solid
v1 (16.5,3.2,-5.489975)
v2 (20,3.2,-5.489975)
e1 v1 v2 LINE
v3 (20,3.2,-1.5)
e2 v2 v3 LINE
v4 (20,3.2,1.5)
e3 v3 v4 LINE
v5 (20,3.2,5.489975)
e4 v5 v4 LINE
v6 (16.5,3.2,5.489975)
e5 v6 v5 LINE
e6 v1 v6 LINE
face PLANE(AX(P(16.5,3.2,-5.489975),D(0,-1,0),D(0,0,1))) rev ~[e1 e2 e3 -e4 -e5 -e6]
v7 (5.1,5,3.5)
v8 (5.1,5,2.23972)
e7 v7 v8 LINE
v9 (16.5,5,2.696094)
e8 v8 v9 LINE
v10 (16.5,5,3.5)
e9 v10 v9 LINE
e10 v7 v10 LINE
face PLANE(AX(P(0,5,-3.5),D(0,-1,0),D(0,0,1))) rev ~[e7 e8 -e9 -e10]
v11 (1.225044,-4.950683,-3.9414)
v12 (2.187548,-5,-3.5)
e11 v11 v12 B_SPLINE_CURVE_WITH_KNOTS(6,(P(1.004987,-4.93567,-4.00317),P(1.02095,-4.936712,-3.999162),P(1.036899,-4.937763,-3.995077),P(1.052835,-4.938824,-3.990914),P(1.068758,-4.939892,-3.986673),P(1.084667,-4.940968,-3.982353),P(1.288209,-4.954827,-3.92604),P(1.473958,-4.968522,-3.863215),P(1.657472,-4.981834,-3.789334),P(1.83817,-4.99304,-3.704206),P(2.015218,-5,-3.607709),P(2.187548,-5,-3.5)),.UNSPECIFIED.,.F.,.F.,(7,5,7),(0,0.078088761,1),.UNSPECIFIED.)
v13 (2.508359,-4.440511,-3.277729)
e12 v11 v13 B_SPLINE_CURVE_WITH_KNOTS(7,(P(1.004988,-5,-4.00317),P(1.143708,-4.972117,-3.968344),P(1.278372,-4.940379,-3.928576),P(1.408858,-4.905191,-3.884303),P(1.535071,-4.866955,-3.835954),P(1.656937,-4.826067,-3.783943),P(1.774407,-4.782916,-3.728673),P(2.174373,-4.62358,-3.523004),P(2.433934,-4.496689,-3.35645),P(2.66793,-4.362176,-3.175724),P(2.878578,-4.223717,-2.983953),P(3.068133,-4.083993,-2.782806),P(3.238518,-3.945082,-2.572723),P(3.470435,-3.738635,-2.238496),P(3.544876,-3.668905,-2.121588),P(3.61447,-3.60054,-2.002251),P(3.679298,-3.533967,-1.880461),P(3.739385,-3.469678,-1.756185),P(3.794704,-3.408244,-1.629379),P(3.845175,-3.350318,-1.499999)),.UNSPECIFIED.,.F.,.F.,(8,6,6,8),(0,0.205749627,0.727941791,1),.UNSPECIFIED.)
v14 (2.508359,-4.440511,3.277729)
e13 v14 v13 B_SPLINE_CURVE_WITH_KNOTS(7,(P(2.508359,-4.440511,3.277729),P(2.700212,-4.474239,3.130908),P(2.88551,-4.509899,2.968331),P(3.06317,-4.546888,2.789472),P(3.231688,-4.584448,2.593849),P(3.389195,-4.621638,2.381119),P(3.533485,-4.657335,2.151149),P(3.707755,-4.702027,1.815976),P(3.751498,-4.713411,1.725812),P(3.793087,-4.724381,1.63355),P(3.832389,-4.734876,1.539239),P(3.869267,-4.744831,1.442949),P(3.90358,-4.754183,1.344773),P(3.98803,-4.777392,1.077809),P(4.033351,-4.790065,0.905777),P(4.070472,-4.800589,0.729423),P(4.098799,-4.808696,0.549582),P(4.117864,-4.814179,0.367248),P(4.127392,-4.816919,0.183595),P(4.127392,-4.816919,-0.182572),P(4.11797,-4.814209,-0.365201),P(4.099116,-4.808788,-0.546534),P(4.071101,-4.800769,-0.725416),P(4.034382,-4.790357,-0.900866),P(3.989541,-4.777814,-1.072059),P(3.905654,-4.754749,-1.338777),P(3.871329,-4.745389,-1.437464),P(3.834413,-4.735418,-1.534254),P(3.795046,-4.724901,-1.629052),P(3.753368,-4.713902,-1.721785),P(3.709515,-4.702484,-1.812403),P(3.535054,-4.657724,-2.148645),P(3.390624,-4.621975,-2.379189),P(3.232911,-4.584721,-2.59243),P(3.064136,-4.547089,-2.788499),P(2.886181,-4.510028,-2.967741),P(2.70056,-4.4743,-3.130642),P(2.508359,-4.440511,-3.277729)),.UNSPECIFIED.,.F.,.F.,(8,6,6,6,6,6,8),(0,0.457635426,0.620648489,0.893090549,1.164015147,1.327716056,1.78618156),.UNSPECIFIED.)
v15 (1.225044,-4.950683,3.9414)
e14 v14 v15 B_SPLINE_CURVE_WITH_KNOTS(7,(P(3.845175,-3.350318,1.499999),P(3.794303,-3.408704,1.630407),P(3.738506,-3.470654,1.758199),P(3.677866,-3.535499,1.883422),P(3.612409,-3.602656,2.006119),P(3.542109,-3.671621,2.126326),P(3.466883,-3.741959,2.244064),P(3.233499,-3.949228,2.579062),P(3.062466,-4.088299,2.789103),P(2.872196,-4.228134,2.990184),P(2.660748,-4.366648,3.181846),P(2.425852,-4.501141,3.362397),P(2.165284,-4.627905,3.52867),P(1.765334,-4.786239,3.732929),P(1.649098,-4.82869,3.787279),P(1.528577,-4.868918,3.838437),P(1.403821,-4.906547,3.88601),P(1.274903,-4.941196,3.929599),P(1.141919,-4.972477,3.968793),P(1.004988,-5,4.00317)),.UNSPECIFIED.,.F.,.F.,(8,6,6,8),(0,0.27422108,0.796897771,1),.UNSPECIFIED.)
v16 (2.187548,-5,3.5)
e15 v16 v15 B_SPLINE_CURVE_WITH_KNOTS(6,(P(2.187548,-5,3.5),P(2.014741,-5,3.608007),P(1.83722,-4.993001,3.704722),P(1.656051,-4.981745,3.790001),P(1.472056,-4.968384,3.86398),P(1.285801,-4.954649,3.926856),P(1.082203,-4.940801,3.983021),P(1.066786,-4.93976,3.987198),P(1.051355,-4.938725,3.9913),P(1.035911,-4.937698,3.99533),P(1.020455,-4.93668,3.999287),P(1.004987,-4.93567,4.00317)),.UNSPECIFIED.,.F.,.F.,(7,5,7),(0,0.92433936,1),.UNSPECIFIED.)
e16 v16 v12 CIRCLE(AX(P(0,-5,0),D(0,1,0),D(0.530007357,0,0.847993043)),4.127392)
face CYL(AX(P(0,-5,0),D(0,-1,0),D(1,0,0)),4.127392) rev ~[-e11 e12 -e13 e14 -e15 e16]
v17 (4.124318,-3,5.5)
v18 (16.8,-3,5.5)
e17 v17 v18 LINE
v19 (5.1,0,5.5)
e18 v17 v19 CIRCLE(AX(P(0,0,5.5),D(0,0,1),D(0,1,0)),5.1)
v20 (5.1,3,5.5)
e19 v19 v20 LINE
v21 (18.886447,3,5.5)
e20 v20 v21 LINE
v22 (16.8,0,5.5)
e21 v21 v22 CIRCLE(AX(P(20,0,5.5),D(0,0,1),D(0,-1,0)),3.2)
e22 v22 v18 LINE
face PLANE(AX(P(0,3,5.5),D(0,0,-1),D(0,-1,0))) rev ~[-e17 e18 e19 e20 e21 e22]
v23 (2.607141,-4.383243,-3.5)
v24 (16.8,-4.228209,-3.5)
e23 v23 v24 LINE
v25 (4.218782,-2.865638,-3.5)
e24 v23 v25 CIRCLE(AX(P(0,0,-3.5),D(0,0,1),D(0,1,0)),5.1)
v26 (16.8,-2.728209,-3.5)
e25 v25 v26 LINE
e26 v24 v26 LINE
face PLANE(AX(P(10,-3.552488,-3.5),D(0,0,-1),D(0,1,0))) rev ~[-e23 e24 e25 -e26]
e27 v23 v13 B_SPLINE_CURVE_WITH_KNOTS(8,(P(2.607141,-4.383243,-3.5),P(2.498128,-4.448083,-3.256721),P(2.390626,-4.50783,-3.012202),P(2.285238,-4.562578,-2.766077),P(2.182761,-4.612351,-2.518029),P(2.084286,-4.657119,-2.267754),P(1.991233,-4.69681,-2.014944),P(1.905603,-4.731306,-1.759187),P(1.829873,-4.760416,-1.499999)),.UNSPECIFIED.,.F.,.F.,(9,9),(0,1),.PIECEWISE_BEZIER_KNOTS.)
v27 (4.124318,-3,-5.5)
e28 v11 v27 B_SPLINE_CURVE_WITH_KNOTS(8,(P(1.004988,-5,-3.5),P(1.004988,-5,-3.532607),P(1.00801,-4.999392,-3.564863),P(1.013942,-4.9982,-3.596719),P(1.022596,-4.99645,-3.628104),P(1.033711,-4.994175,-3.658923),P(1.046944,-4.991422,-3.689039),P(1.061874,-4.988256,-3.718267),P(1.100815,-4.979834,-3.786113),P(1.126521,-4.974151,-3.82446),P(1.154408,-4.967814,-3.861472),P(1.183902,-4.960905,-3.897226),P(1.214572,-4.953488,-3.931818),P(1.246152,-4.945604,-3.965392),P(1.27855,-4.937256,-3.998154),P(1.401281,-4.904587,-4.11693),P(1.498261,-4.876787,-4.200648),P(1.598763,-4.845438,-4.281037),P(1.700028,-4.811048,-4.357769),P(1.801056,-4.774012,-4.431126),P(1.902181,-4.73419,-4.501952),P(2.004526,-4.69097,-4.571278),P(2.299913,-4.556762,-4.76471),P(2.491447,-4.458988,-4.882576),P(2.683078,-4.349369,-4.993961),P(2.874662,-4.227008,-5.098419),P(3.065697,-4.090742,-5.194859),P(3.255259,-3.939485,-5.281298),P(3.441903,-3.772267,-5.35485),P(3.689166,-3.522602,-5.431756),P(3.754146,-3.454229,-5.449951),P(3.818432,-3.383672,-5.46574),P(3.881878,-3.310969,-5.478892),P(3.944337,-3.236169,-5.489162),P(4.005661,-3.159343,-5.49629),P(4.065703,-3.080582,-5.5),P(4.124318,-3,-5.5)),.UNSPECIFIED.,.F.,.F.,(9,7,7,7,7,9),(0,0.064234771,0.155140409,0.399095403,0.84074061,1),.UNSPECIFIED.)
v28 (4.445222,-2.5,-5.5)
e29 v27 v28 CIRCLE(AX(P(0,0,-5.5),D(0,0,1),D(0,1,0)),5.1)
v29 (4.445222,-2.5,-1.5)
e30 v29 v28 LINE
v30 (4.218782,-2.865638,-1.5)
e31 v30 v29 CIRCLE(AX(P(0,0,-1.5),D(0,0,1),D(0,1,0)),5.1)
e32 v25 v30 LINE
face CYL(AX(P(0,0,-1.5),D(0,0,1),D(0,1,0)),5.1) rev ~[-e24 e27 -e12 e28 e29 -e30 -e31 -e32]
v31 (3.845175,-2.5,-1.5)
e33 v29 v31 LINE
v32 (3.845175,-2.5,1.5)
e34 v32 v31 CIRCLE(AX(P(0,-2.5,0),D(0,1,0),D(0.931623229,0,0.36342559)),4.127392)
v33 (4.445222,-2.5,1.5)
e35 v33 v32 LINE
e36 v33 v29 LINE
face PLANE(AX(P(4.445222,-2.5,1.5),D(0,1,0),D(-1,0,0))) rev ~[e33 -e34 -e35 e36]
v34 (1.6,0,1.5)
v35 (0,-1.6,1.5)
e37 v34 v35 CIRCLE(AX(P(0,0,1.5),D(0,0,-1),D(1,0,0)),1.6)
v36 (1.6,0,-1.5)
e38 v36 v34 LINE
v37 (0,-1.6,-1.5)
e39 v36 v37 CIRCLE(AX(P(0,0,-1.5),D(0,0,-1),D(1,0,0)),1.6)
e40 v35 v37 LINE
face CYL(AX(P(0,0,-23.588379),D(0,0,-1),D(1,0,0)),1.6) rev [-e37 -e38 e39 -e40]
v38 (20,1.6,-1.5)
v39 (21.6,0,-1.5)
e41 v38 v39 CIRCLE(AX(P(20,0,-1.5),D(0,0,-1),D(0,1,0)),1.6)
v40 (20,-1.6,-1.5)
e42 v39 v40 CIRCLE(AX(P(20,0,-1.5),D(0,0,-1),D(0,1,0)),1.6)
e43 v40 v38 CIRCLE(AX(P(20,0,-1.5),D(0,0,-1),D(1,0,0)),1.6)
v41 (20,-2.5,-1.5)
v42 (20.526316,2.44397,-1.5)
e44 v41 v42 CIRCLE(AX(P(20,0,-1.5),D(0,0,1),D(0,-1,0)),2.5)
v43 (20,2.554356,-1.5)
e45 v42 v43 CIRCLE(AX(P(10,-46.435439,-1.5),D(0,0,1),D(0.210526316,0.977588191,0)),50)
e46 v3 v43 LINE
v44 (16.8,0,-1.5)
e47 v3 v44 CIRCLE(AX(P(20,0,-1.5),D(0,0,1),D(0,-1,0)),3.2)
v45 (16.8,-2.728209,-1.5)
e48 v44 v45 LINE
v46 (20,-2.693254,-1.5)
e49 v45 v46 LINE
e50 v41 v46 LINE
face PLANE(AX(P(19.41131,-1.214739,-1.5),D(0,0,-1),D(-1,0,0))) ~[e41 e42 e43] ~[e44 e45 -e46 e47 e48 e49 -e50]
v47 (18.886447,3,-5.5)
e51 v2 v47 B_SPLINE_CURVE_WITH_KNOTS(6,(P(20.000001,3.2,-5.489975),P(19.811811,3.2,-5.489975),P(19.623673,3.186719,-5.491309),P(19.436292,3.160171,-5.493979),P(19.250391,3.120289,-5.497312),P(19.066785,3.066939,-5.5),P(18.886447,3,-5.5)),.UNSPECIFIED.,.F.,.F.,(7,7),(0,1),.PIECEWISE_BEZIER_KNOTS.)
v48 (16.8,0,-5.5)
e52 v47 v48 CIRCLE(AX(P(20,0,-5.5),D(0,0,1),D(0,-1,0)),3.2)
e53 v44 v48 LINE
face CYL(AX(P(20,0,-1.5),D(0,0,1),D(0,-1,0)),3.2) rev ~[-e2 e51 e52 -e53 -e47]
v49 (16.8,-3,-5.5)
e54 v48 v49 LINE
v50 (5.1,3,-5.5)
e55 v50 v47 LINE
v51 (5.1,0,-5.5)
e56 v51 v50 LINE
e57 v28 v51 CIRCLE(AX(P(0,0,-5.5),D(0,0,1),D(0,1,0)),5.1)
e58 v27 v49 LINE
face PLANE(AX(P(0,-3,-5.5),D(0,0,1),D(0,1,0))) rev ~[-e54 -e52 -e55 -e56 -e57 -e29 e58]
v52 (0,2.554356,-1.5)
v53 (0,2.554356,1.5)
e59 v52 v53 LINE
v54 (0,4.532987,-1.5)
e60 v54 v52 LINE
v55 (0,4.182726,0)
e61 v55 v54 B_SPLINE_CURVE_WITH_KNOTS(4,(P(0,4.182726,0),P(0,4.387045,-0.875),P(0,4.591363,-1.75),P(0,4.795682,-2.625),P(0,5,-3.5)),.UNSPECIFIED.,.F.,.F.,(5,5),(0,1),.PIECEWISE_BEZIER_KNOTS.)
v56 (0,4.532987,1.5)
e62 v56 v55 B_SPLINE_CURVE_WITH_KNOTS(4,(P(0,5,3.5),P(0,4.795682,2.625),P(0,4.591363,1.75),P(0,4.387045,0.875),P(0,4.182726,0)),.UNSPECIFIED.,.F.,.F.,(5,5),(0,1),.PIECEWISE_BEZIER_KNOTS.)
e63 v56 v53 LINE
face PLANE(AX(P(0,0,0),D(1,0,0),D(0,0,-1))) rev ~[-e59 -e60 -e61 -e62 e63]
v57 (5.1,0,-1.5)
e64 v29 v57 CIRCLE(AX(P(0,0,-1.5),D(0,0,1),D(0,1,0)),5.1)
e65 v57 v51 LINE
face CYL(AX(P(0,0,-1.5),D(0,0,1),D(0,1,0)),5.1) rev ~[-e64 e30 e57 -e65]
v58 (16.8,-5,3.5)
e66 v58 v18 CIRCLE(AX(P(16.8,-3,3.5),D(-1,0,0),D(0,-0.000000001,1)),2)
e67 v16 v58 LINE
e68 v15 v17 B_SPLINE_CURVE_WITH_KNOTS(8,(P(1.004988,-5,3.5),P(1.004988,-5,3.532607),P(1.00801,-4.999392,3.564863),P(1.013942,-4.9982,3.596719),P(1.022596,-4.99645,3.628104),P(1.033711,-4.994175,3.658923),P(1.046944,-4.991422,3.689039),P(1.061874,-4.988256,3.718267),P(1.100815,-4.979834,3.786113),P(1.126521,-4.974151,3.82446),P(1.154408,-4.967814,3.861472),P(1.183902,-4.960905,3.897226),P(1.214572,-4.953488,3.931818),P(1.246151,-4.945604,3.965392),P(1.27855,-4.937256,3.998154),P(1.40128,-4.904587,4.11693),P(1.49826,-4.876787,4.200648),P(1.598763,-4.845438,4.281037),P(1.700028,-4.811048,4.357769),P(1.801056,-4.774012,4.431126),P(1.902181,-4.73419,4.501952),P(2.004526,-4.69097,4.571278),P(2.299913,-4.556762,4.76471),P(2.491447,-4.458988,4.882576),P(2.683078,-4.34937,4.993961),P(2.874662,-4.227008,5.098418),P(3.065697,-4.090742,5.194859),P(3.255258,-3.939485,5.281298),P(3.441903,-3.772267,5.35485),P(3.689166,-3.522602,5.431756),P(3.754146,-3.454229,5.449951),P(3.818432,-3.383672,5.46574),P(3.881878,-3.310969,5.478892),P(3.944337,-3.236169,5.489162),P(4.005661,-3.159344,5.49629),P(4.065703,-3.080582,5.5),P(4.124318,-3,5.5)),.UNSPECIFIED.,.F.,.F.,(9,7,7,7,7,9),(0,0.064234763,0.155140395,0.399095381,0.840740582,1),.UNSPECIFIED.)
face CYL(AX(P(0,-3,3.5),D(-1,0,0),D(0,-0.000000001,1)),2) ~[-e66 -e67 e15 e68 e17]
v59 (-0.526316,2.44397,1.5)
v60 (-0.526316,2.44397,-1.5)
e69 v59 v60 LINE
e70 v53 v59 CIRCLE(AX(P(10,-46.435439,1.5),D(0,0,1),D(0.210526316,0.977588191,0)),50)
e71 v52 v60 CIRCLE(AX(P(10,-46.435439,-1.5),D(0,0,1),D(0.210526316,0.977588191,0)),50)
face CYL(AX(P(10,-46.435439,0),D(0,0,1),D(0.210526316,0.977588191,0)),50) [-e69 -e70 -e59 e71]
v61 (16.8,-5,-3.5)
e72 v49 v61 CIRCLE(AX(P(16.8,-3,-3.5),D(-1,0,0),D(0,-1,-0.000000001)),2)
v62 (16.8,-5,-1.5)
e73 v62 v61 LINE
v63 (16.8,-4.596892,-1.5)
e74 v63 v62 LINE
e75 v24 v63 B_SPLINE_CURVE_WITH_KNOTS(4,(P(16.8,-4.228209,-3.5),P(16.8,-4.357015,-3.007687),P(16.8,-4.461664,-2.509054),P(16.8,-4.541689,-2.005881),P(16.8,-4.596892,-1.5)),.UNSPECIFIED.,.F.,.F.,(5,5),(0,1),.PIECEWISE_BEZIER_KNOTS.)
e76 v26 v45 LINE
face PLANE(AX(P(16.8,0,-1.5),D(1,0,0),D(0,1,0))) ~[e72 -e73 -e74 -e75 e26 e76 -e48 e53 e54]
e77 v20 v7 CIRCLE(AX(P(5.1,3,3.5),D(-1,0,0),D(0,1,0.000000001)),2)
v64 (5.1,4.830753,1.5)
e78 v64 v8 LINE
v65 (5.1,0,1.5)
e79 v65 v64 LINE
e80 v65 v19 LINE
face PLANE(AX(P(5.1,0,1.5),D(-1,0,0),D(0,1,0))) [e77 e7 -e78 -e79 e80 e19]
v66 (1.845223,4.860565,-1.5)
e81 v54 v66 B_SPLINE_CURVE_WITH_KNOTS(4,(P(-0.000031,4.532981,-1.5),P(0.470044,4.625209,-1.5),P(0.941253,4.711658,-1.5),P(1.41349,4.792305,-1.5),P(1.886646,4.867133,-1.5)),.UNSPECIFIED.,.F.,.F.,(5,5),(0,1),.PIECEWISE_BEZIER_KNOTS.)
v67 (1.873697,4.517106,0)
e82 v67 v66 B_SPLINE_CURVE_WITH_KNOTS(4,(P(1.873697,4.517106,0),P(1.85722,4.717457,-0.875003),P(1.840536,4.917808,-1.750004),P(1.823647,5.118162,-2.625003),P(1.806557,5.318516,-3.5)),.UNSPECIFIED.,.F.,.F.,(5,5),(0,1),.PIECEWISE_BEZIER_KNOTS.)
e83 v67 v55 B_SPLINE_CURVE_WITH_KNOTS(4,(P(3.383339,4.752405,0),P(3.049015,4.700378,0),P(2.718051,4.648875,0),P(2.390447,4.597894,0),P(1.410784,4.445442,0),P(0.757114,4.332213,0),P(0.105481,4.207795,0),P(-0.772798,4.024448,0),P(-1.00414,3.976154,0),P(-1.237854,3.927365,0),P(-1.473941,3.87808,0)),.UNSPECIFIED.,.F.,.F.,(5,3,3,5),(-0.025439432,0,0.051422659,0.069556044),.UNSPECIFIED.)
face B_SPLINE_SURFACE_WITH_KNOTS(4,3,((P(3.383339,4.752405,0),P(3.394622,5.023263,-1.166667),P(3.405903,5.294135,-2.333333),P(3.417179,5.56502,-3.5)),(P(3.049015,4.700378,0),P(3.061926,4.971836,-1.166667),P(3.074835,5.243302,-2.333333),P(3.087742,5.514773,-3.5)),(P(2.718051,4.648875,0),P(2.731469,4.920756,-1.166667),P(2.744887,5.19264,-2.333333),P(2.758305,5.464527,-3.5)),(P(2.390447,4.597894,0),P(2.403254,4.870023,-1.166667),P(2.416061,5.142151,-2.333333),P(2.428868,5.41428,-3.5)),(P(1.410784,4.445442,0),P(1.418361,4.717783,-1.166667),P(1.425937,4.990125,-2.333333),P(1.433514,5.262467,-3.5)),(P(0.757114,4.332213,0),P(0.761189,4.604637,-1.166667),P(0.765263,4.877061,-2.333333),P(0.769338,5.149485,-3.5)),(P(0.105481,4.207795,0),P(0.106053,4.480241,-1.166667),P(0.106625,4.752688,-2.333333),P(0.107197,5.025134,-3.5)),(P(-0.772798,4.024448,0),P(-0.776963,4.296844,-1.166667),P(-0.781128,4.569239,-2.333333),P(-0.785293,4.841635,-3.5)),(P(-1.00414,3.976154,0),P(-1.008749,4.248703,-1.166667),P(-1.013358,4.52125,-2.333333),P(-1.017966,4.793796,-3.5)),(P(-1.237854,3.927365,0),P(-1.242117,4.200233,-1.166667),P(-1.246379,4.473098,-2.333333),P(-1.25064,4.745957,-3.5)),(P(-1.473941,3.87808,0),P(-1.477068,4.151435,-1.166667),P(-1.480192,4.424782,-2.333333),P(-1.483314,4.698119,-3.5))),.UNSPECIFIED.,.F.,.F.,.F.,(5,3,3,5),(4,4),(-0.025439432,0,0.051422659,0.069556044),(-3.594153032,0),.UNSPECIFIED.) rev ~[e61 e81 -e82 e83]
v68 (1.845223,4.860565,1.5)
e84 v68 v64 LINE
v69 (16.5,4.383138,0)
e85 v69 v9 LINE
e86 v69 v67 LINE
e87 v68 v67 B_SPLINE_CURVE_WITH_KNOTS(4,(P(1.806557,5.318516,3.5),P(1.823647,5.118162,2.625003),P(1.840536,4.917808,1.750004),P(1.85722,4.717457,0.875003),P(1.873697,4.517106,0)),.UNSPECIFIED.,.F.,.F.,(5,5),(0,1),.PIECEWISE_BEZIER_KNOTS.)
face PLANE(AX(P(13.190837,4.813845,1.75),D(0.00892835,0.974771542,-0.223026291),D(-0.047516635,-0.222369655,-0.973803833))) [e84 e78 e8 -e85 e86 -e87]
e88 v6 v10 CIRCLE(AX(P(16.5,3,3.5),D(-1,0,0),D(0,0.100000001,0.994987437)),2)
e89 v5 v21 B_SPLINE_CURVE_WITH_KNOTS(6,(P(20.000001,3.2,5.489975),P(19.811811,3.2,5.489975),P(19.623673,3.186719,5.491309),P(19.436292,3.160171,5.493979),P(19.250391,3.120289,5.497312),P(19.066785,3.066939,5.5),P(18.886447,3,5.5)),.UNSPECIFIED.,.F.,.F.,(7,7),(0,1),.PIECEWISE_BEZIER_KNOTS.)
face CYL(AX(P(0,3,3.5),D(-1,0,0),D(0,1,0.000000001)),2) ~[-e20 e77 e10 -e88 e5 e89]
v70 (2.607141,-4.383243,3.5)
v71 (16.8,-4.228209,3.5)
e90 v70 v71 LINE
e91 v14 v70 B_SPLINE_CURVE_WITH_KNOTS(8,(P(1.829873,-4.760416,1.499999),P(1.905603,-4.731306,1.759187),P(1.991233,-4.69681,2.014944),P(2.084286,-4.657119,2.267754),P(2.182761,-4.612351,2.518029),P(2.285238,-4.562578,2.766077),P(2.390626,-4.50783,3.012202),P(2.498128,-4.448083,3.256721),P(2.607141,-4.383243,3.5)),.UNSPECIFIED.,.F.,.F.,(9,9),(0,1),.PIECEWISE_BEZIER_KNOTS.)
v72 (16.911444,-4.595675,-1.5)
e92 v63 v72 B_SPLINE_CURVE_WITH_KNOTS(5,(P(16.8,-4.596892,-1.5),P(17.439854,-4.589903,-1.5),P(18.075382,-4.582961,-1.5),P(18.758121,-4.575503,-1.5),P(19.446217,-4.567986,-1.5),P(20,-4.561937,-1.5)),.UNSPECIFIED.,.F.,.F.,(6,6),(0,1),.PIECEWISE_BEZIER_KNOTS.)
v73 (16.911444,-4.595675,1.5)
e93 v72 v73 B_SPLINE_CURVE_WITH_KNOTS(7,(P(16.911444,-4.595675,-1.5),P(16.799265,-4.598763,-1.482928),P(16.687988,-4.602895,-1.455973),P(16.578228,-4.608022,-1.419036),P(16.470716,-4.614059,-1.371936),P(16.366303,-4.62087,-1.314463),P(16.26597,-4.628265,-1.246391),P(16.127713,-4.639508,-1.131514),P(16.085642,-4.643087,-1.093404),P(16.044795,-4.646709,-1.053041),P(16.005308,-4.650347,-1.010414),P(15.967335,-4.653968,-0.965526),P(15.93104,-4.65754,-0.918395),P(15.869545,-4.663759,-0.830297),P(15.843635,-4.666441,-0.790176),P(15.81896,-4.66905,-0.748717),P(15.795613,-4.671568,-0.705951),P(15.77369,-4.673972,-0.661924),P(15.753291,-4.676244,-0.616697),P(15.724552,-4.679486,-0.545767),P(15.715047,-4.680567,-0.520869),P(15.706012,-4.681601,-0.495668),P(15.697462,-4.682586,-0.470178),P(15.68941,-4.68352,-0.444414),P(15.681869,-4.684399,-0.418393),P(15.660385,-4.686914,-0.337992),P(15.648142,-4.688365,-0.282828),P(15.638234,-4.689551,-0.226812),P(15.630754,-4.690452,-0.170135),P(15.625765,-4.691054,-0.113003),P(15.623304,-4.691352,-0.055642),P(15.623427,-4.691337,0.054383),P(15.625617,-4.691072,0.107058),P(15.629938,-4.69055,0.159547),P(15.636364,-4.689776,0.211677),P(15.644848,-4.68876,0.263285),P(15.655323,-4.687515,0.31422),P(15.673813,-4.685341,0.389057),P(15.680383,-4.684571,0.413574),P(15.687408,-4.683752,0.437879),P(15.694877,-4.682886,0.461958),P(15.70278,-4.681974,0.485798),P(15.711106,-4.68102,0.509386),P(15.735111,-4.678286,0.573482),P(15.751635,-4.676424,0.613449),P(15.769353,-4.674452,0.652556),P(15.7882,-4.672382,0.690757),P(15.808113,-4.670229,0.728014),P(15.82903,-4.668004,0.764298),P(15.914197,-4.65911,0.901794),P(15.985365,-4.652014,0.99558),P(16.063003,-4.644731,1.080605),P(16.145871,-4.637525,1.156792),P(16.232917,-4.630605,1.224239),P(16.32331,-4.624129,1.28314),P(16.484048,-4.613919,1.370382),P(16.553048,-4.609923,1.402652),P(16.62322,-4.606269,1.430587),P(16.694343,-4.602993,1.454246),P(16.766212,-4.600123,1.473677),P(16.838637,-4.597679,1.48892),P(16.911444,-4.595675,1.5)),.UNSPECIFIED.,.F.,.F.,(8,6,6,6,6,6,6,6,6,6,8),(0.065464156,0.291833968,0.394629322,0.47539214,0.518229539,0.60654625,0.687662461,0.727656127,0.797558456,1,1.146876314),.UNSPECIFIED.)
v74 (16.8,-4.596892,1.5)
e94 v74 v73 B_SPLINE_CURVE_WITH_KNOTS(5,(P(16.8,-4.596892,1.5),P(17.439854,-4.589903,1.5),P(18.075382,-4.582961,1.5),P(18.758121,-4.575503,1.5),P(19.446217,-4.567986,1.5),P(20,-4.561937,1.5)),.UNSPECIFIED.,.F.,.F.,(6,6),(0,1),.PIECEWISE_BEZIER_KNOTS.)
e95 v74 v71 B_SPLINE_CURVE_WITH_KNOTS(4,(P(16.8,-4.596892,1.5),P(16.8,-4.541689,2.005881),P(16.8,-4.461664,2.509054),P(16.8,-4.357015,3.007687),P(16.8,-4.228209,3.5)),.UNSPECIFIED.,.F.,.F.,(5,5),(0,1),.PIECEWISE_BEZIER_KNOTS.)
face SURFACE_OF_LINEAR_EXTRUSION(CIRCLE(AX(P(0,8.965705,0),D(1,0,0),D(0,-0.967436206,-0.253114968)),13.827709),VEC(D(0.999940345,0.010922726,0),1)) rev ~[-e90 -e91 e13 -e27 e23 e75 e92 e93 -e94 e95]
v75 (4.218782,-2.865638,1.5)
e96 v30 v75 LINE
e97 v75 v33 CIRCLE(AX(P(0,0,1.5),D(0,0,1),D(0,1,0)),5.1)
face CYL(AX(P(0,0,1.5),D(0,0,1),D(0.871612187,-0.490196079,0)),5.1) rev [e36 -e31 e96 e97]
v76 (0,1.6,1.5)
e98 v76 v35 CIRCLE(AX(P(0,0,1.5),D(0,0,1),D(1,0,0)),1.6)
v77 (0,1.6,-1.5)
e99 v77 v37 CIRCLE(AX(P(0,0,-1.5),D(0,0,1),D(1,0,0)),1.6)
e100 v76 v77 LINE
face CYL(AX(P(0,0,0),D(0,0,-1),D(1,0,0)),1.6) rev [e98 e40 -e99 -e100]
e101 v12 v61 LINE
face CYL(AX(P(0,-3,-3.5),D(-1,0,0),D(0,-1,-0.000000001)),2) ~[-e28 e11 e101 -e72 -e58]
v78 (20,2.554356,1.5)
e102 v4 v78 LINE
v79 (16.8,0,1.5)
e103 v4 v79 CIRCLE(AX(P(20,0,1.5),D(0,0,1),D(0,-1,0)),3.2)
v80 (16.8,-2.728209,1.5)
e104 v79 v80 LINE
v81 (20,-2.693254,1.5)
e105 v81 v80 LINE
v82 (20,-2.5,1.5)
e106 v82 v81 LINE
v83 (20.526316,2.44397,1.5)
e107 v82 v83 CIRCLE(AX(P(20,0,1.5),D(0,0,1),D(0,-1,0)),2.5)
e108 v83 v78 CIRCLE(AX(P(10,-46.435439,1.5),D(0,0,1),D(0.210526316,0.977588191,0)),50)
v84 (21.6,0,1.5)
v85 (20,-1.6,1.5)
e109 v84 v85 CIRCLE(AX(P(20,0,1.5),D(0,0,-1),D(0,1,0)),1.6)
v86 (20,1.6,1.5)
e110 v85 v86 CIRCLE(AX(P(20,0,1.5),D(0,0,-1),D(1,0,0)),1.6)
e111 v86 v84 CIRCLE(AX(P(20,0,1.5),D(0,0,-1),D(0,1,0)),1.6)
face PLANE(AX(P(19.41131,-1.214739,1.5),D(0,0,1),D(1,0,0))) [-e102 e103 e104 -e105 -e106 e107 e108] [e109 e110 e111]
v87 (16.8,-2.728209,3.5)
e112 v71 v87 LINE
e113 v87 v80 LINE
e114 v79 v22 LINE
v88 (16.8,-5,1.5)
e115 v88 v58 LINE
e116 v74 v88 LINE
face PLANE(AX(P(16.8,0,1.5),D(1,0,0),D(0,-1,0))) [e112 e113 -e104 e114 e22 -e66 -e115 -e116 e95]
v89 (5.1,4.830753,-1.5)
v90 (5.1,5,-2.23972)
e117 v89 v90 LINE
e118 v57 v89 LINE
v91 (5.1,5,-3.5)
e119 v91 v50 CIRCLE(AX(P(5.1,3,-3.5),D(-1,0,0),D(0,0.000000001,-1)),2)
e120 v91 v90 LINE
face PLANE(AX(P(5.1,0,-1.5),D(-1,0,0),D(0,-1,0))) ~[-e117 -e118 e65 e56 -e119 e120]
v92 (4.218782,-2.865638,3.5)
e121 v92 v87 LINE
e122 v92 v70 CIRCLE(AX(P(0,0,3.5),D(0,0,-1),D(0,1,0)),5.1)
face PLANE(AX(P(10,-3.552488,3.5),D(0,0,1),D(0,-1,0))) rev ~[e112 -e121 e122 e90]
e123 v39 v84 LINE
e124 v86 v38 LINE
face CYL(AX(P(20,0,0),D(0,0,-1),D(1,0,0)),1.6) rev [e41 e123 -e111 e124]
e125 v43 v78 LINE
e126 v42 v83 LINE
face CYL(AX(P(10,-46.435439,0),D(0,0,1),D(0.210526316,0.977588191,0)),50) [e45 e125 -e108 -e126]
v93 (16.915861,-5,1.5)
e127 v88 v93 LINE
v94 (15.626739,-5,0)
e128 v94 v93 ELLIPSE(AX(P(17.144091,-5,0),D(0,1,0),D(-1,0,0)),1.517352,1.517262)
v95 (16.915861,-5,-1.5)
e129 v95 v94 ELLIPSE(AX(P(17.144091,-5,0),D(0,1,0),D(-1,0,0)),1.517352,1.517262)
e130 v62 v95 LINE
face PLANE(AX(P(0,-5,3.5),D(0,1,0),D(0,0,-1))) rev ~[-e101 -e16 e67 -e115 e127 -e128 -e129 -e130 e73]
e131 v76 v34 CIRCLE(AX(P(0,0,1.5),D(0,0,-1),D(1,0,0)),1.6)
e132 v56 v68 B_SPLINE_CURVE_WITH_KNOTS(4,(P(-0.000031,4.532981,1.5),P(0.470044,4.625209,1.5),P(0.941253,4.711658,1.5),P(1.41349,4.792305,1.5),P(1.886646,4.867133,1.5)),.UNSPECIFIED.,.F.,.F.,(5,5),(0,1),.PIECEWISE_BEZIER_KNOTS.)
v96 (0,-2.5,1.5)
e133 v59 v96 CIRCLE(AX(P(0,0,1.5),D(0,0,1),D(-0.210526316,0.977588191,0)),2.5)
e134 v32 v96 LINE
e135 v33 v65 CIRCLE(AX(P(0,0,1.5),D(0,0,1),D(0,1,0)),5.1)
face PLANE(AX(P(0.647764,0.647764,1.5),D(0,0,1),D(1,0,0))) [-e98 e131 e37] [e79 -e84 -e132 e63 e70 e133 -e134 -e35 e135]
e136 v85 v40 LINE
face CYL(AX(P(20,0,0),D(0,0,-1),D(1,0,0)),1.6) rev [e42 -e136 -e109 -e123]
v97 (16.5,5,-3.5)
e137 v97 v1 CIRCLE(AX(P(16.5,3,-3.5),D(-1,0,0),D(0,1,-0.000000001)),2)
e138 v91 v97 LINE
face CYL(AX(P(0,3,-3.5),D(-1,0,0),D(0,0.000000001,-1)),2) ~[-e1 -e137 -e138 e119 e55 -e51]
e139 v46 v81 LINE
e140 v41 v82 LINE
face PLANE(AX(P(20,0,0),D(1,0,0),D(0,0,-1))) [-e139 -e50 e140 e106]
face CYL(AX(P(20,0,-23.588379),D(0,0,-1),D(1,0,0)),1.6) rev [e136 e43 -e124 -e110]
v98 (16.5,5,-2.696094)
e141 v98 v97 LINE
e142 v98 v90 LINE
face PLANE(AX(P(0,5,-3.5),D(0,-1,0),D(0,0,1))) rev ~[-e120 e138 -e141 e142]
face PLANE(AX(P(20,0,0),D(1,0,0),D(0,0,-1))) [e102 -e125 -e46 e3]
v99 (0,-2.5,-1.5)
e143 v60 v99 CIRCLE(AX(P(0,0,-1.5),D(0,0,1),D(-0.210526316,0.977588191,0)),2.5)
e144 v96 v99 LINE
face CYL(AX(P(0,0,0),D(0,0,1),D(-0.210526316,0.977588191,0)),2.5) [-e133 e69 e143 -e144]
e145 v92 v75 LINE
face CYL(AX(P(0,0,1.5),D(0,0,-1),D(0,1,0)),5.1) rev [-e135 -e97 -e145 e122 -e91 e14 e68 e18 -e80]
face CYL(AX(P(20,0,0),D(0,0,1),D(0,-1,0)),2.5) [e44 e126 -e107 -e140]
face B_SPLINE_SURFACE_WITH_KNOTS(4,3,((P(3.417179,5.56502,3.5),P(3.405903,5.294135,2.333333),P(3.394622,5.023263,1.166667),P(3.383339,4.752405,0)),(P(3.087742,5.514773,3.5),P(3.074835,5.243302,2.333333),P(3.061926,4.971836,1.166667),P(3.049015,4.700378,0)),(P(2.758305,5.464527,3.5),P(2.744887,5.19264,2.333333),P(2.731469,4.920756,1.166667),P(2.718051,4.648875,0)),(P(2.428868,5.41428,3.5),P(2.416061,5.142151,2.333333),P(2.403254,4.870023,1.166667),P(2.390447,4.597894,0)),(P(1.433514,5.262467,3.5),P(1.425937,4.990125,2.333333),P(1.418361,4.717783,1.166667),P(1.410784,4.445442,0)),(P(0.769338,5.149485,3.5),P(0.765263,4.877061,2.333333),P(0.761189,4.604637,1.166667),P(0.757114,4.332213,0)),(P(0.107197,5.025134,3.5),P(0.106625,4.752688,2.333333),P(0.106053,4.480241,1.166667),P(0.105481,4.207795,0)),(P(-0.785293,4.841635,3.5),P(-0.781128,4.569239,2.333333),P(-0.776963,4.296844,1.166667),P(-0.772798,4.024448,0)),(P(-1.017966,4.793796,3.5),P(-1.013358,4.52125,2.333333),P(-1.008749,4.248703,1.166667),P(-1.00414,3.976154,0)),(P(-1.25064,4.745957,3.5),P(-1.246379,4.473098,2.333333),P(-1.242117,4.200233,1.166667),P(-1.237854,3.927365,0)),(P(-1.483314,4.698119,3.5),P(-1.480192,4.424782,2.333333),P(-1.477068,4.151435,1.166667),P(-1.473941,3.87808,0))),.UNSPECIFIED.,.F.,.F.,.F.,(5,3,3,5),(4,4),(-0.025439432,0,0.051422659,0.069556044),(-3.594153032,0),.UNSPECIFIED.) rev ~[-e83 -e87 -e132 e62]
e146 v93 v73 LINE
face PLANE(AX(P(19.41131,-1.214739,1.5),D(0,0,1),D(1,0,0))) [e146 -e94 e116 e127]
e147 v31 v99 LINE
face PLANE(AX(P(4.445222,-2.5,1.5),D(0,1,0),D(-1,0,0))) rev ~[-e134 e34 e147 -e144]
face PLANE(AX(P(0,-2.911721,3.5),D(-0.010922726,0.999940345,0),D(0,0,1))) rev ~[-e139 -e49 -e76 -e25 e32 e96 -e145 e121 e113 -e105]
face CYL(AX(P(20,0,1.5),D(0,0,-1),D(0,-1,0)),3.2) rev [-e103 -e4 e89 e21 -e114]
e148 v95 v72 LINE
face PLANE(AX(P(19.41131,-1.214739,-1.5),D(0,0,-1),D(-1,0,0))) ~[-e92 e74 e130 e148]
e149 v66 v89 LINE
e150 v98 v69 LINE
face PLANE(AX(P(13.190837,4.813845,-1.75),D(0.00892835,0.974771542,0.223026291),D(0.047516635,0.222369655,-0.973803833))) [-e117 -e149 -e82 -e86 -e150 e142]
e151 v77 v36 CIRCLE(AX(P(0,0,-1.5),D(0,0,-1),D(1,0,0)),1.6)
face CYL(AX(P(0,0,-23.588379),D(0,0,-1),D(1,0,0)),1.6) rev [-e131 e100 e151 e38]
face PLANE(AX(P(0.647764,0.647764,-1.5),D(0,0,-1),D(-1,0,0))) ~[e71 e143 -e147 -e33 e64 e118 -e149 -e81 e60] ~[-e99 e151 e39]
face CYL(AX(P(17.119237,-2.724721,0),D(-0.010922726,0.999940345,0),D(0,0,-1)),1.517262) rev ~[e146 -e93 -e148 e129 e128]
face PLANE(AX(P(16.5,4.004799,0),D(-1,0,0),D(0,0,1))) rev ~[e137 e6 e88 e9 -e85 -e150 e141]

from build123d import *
from build123d.topology import SkipClean

# Parameters (mm, degrees)
SKETCH1_R               = 1.6
BOSS_EXTRUDE1_DEPTH     = 1.5
SKETCH2_W               = 18
SKETCH2_H               = 5
BOSS_EXTRUDE3_DEPTH     = 20
CUT_EXTRUDE3_DEPTH      = 4
CUT_EXTRUDE1_DEPTH      = 4
CUT_EXTRUDE4_DEPTH      = 6
CUT_EXTRUDE5_DEPTH      = 25.088378991
CUT_EXTRUDE5_DEPTH_BACK = 25.088378991
SKETCH11_R              = 1.6
CUT_EXTRUDE6_DEPTH      = 10
SKETCH13_R              = 4.127392351
CUT_EXTRUDE7_DEPTH      = 2.5
CUT_EXTRUDE8_START      = -3.5
CUT_EXTRUDE8_DEPTH      = 3.5


with BuildPart() as part:
    # Sketch1 → Boss-Extrude1 (new, symmetric)
    with BuildSketch(Plane.XY):
        with BuildLine():
            Line((0, -2.5), (20, -2.5))
            ThreePointArc((20, -2.5), (22.485953156, -0.264644865), (20.526315789, 2.443970476))
            ThreePointArc((20.526315789, 2.443970476), (10, 3.564560947), (-0.526315789, 2.443970476))
            ThreePointArc((-0.526315789, 2.443970476), (-2.485953156, -0.264644865), (0, -2.5))
        make_face()
        Circle(SKETCH1_R, mode=Mode.SUBTRACT)
        with Locations((20, 0)):
            Circle(SKETCH1_R, mode=Mode.SUBTRACT)
    extrude(amount=BOSS_EXTRUDE1_DEPTH, both=True)

    # Sketch2 → Revolve1 (revolve)
    with BuildSketch(Plane(origin=(0, 0, 0), x_dir=(1, 0, 0), z_dir=(0, 1, 0))):
        with Locations((11, -2.5)):
            Rectangle(SKETCH2_W, SKETCH2_H)
    revolve(axis=Axis((2, 0, 0), (1, 0, 0)))

    # Sketch9 → Boss-Extrude3 (add)
    with BuildSketch(Plane(origin=(0, 0, 0), x_dir=(0, 0, -1), z_dir=(1, 0, 0))):
        with BuildLine():
            Line((-3.5, -5), (3.5, -5))
            ThreePointArc((3.5, -5), (4.914213562, -4.414213562), (5.5, -3))
            Line((5.5, -3), (5.5, 3))
            ThreePointArc((5.5, 3), (4.914213562, 4.414213562), (3.5, 5))
            Line((3.5, 5), (-3.5, 5))
            ThreePointArc((-3.5, 5), (-4.914213562, 4.414213562), (-5.5, 3))
            Line((-5.5, 3), (-5.5, -3))
            ThreePointArc((-5.5, -3), (-4.914213562, -4.414213562), (-3.5, -5))
        make_face()
    extrude(amount=BOSS_EXTRUDE3_DEPTH)

    # Cut-Sweep1: sweep along a path in Sketch4
    with BuildLine(Plane.XY) as cut_sweep1_path:
        Line((24.863277649, 2.710997103), (2, 2.920411664))
        ThreePointArc((2, 2.920411664), (0.733779453, 2.698430699), (-0.526315789, 2.443970476))
        Line((-0.526315789, 2.443970476), (-4.067756882, 1.923712717))
    # Sketch3 → Cut-Sweep1 (sweep, cut)
    with BuildSketch(Plane(origin=(0, 0, 0), x_dir=(0, 0, -1), z_dir=(1, 0, 0))):
        Polygon((3.5, 5), (0, 4.182726474), (-3.5, 5), (-3.5, 6.035180102), (3.681581058, 6.035180102), align=None)
    sweep(path=cut_sweep1_path.line, transition=Transition.RIGHT, mode=Mode.SUBTRACT)

    # Cut-Sweep3: sweep along a path in Sketch7
    with BuildLine(Plane.XY) as cut_sweep3_path:
        Line((0, -2.91172129), (20, -2.693253741))
    # Sketch6 → Cut-Sweep3 (sweep, cut)
    with BuildSketch(Plane(origin=(20, 0, 0), x_dir=(0, 0, -1), z_dir=(1, 0, 0))):
        with BuildLine():
            Line((3.5, -2.693253741), (3.5, -4.193253741))
            ThreePointArc((3.5, -4.193253741), (0, -4.643536391), (-3.5, -4.193253741))
            Line((-3.5, -4.193253741), (-3.5, -2.693253741))
            Line((-3.5, -2.693253741), (3.5, -2.693253741))
        make_face()
    sweep(path=cut_sweep3_path.line, mode=Mode.SUBTRACT)

    # Sketch8 → Cut-Extrude3 (cut)
    with BuildSketch(Plane.XY.offset(1.5)):
        with BuildLine():
            Line((16.8, 0), (16.8, -2))
            Line((16.8, -2), (16.8, -5))
            Line((16.8, -5), (20, -5))
            Line((20, -5), (20, -3.2))
            ThreePointArc((20, -3.2), (22.2627417, 2.2627417), (16.8, 0))
        make_face()
    cut_extrude3 = extrude(amount=CUT_EXTRUDE3_DEPTH, mode=Mode.SUBTRACT)

    # Sketch5 → Cut-Extrude1 (cut)
    with BuildSketch(Plane.XY.offset(1.5)):
        with BuildLine():
            Line((5.1, 0), (5.1, 5.1))
            Line((5.1, 5.1), (0, 5.1))
            ThreePointArc((0, 5.1), (-3.606244584, -3.606244584), (5.1, 0))
        make_face()
    cut_extrude1 = extrude(amount=CUT_EXTRUDE1_DEPTH, mode=Mode.SUBTRACT)

    # Mirror1: Cut-Extrude3, Cut-Extrude1 across plane
    add(cut_extrude3.mirror(Plane.XY), mode=Mode.SUBTRACT)
    add(cut_extrude1.mirror(Plane.XY), mode=Mode.SUBTRACT)

    # Sketch10 → Cut-Extrude4 (cut)
    with BuildSketch(Plane(origin=(0.031802036, -2.911373904, 0), x_dir=(0.9999403452508379, 0.01092272583357663, 0), z_dir=(0.01092272583357663, -0.9999403452508379, 0))):
        with BuildLine():
            Line((17.174273437, 1.517261574), (23.592478812, 1.517261574))
            Line((23.592478812, 1.517261574), (23.592478812, -1.517261574))
            Line((23.592478812, -1.517261574), (17.174357812, -1.517261574))
            Line((17.174357812, -1.517261574), (17.08845436, -1.517261574))
            ThreePointArc((17.08845436, -1.517261574), (15.571192786, 0), (17.08845436, 1.517261574))
            Line((17.08845436, 1.517261574), (17.174273437, 1.517261574))
        make_face()
    extrude(amount=CUT_EXTRUDE4_DEPTH, mode=Mode.SUBTRACT)

    # Sketch11 → Cut-Extrude5 (cut, two sides: drawn at the far end of the back side and taken through both)
    with SkipClean():  # the faces are left unmerged after this step: merging them gives an invalid solid
        with BuildSketch(Plane.XY.offset(1.5).offset(-CUT_EXTRUDE5_DEPTH_BACK)):
            with Locations((20, 0)):
                Circle(SKETCH11_R)
            Circle(SKETCH11_R)
        extrude(amount=CUT_EXTRUDE5_DEPTH + CUT_EXTRUDE5_DEPTH_BACK, mode=Mode.SUBTRACT)

    # Sketch12 → Cut-Extrude6 (cut)
    with SkipClean():  # the faces are left unmerged after this step: merging them gives an invalid solid
        with BuildSketch(Plane.XY.offset(1.5)):
            with BuildLine():
                Line((2, -2.5), (4.445222154, -2.5))
                ThreePointArc((4.445222154, -2.5), (2.659498662, -4.35167403), (0.197141337, -5.09618831))
                Line((0.197141337, -5.09618831), (-0.979949821, -5.09618831))
                Line((-0.979949821, -5.09618831), (-0.979949821, -2.5))
                Line((-0.979949821, -2.5), (2, -2.5))
            make_face()
        extrude(amount=-CUT_EXTRUDE6_DEPTH, mode=Mode.SUBTRACT)

    # Sketch13 → Cut-Extrude7 (cut)
    with BuildSketch(Plane.XZ.offset(5)):
        Circle(SKETCH13_R)
    extrude(amount=-CUT_EXTRUDE7_DEPTH, mode=Mode.SUBTRACT)

    # Sketch15 → Cut-Extrude8 (cut)
    with BuildSketch(Plane(origin=(20, 0, 0), x_dir=(0, 0, -1), z_dir=(1, 0, 0)).offset(CUT_EXTRUDE8_START)):
        with BuildLine():
            Line((-2.836208081, 5), (2.836208081, 5))
            Line((2.836208081, 5), (3.5, 5))
            ThreePointArc((3.5, 5), (4.841640786, 4.483239697), (5.489974874, 3.2))
            Line((5.489974874, 3.2), (1.5, 3.2))
            Line((1.5, 3.2), (-1.5, 3.2))
            Line((-1.5, 3.2), (-5.489974874, 3.2))
            ThreePointArc((-5.489974874, 3.2), (-4.841640786, 4.483239697), (-3.5, 5))
            Line((-3.5, 5), (-2.836208081, 5))
        make_face()
    extrude(amount=CUT_EXTRUDE8_DEPTH, mode=Mode.SUBTRACT)


solid = part.part
